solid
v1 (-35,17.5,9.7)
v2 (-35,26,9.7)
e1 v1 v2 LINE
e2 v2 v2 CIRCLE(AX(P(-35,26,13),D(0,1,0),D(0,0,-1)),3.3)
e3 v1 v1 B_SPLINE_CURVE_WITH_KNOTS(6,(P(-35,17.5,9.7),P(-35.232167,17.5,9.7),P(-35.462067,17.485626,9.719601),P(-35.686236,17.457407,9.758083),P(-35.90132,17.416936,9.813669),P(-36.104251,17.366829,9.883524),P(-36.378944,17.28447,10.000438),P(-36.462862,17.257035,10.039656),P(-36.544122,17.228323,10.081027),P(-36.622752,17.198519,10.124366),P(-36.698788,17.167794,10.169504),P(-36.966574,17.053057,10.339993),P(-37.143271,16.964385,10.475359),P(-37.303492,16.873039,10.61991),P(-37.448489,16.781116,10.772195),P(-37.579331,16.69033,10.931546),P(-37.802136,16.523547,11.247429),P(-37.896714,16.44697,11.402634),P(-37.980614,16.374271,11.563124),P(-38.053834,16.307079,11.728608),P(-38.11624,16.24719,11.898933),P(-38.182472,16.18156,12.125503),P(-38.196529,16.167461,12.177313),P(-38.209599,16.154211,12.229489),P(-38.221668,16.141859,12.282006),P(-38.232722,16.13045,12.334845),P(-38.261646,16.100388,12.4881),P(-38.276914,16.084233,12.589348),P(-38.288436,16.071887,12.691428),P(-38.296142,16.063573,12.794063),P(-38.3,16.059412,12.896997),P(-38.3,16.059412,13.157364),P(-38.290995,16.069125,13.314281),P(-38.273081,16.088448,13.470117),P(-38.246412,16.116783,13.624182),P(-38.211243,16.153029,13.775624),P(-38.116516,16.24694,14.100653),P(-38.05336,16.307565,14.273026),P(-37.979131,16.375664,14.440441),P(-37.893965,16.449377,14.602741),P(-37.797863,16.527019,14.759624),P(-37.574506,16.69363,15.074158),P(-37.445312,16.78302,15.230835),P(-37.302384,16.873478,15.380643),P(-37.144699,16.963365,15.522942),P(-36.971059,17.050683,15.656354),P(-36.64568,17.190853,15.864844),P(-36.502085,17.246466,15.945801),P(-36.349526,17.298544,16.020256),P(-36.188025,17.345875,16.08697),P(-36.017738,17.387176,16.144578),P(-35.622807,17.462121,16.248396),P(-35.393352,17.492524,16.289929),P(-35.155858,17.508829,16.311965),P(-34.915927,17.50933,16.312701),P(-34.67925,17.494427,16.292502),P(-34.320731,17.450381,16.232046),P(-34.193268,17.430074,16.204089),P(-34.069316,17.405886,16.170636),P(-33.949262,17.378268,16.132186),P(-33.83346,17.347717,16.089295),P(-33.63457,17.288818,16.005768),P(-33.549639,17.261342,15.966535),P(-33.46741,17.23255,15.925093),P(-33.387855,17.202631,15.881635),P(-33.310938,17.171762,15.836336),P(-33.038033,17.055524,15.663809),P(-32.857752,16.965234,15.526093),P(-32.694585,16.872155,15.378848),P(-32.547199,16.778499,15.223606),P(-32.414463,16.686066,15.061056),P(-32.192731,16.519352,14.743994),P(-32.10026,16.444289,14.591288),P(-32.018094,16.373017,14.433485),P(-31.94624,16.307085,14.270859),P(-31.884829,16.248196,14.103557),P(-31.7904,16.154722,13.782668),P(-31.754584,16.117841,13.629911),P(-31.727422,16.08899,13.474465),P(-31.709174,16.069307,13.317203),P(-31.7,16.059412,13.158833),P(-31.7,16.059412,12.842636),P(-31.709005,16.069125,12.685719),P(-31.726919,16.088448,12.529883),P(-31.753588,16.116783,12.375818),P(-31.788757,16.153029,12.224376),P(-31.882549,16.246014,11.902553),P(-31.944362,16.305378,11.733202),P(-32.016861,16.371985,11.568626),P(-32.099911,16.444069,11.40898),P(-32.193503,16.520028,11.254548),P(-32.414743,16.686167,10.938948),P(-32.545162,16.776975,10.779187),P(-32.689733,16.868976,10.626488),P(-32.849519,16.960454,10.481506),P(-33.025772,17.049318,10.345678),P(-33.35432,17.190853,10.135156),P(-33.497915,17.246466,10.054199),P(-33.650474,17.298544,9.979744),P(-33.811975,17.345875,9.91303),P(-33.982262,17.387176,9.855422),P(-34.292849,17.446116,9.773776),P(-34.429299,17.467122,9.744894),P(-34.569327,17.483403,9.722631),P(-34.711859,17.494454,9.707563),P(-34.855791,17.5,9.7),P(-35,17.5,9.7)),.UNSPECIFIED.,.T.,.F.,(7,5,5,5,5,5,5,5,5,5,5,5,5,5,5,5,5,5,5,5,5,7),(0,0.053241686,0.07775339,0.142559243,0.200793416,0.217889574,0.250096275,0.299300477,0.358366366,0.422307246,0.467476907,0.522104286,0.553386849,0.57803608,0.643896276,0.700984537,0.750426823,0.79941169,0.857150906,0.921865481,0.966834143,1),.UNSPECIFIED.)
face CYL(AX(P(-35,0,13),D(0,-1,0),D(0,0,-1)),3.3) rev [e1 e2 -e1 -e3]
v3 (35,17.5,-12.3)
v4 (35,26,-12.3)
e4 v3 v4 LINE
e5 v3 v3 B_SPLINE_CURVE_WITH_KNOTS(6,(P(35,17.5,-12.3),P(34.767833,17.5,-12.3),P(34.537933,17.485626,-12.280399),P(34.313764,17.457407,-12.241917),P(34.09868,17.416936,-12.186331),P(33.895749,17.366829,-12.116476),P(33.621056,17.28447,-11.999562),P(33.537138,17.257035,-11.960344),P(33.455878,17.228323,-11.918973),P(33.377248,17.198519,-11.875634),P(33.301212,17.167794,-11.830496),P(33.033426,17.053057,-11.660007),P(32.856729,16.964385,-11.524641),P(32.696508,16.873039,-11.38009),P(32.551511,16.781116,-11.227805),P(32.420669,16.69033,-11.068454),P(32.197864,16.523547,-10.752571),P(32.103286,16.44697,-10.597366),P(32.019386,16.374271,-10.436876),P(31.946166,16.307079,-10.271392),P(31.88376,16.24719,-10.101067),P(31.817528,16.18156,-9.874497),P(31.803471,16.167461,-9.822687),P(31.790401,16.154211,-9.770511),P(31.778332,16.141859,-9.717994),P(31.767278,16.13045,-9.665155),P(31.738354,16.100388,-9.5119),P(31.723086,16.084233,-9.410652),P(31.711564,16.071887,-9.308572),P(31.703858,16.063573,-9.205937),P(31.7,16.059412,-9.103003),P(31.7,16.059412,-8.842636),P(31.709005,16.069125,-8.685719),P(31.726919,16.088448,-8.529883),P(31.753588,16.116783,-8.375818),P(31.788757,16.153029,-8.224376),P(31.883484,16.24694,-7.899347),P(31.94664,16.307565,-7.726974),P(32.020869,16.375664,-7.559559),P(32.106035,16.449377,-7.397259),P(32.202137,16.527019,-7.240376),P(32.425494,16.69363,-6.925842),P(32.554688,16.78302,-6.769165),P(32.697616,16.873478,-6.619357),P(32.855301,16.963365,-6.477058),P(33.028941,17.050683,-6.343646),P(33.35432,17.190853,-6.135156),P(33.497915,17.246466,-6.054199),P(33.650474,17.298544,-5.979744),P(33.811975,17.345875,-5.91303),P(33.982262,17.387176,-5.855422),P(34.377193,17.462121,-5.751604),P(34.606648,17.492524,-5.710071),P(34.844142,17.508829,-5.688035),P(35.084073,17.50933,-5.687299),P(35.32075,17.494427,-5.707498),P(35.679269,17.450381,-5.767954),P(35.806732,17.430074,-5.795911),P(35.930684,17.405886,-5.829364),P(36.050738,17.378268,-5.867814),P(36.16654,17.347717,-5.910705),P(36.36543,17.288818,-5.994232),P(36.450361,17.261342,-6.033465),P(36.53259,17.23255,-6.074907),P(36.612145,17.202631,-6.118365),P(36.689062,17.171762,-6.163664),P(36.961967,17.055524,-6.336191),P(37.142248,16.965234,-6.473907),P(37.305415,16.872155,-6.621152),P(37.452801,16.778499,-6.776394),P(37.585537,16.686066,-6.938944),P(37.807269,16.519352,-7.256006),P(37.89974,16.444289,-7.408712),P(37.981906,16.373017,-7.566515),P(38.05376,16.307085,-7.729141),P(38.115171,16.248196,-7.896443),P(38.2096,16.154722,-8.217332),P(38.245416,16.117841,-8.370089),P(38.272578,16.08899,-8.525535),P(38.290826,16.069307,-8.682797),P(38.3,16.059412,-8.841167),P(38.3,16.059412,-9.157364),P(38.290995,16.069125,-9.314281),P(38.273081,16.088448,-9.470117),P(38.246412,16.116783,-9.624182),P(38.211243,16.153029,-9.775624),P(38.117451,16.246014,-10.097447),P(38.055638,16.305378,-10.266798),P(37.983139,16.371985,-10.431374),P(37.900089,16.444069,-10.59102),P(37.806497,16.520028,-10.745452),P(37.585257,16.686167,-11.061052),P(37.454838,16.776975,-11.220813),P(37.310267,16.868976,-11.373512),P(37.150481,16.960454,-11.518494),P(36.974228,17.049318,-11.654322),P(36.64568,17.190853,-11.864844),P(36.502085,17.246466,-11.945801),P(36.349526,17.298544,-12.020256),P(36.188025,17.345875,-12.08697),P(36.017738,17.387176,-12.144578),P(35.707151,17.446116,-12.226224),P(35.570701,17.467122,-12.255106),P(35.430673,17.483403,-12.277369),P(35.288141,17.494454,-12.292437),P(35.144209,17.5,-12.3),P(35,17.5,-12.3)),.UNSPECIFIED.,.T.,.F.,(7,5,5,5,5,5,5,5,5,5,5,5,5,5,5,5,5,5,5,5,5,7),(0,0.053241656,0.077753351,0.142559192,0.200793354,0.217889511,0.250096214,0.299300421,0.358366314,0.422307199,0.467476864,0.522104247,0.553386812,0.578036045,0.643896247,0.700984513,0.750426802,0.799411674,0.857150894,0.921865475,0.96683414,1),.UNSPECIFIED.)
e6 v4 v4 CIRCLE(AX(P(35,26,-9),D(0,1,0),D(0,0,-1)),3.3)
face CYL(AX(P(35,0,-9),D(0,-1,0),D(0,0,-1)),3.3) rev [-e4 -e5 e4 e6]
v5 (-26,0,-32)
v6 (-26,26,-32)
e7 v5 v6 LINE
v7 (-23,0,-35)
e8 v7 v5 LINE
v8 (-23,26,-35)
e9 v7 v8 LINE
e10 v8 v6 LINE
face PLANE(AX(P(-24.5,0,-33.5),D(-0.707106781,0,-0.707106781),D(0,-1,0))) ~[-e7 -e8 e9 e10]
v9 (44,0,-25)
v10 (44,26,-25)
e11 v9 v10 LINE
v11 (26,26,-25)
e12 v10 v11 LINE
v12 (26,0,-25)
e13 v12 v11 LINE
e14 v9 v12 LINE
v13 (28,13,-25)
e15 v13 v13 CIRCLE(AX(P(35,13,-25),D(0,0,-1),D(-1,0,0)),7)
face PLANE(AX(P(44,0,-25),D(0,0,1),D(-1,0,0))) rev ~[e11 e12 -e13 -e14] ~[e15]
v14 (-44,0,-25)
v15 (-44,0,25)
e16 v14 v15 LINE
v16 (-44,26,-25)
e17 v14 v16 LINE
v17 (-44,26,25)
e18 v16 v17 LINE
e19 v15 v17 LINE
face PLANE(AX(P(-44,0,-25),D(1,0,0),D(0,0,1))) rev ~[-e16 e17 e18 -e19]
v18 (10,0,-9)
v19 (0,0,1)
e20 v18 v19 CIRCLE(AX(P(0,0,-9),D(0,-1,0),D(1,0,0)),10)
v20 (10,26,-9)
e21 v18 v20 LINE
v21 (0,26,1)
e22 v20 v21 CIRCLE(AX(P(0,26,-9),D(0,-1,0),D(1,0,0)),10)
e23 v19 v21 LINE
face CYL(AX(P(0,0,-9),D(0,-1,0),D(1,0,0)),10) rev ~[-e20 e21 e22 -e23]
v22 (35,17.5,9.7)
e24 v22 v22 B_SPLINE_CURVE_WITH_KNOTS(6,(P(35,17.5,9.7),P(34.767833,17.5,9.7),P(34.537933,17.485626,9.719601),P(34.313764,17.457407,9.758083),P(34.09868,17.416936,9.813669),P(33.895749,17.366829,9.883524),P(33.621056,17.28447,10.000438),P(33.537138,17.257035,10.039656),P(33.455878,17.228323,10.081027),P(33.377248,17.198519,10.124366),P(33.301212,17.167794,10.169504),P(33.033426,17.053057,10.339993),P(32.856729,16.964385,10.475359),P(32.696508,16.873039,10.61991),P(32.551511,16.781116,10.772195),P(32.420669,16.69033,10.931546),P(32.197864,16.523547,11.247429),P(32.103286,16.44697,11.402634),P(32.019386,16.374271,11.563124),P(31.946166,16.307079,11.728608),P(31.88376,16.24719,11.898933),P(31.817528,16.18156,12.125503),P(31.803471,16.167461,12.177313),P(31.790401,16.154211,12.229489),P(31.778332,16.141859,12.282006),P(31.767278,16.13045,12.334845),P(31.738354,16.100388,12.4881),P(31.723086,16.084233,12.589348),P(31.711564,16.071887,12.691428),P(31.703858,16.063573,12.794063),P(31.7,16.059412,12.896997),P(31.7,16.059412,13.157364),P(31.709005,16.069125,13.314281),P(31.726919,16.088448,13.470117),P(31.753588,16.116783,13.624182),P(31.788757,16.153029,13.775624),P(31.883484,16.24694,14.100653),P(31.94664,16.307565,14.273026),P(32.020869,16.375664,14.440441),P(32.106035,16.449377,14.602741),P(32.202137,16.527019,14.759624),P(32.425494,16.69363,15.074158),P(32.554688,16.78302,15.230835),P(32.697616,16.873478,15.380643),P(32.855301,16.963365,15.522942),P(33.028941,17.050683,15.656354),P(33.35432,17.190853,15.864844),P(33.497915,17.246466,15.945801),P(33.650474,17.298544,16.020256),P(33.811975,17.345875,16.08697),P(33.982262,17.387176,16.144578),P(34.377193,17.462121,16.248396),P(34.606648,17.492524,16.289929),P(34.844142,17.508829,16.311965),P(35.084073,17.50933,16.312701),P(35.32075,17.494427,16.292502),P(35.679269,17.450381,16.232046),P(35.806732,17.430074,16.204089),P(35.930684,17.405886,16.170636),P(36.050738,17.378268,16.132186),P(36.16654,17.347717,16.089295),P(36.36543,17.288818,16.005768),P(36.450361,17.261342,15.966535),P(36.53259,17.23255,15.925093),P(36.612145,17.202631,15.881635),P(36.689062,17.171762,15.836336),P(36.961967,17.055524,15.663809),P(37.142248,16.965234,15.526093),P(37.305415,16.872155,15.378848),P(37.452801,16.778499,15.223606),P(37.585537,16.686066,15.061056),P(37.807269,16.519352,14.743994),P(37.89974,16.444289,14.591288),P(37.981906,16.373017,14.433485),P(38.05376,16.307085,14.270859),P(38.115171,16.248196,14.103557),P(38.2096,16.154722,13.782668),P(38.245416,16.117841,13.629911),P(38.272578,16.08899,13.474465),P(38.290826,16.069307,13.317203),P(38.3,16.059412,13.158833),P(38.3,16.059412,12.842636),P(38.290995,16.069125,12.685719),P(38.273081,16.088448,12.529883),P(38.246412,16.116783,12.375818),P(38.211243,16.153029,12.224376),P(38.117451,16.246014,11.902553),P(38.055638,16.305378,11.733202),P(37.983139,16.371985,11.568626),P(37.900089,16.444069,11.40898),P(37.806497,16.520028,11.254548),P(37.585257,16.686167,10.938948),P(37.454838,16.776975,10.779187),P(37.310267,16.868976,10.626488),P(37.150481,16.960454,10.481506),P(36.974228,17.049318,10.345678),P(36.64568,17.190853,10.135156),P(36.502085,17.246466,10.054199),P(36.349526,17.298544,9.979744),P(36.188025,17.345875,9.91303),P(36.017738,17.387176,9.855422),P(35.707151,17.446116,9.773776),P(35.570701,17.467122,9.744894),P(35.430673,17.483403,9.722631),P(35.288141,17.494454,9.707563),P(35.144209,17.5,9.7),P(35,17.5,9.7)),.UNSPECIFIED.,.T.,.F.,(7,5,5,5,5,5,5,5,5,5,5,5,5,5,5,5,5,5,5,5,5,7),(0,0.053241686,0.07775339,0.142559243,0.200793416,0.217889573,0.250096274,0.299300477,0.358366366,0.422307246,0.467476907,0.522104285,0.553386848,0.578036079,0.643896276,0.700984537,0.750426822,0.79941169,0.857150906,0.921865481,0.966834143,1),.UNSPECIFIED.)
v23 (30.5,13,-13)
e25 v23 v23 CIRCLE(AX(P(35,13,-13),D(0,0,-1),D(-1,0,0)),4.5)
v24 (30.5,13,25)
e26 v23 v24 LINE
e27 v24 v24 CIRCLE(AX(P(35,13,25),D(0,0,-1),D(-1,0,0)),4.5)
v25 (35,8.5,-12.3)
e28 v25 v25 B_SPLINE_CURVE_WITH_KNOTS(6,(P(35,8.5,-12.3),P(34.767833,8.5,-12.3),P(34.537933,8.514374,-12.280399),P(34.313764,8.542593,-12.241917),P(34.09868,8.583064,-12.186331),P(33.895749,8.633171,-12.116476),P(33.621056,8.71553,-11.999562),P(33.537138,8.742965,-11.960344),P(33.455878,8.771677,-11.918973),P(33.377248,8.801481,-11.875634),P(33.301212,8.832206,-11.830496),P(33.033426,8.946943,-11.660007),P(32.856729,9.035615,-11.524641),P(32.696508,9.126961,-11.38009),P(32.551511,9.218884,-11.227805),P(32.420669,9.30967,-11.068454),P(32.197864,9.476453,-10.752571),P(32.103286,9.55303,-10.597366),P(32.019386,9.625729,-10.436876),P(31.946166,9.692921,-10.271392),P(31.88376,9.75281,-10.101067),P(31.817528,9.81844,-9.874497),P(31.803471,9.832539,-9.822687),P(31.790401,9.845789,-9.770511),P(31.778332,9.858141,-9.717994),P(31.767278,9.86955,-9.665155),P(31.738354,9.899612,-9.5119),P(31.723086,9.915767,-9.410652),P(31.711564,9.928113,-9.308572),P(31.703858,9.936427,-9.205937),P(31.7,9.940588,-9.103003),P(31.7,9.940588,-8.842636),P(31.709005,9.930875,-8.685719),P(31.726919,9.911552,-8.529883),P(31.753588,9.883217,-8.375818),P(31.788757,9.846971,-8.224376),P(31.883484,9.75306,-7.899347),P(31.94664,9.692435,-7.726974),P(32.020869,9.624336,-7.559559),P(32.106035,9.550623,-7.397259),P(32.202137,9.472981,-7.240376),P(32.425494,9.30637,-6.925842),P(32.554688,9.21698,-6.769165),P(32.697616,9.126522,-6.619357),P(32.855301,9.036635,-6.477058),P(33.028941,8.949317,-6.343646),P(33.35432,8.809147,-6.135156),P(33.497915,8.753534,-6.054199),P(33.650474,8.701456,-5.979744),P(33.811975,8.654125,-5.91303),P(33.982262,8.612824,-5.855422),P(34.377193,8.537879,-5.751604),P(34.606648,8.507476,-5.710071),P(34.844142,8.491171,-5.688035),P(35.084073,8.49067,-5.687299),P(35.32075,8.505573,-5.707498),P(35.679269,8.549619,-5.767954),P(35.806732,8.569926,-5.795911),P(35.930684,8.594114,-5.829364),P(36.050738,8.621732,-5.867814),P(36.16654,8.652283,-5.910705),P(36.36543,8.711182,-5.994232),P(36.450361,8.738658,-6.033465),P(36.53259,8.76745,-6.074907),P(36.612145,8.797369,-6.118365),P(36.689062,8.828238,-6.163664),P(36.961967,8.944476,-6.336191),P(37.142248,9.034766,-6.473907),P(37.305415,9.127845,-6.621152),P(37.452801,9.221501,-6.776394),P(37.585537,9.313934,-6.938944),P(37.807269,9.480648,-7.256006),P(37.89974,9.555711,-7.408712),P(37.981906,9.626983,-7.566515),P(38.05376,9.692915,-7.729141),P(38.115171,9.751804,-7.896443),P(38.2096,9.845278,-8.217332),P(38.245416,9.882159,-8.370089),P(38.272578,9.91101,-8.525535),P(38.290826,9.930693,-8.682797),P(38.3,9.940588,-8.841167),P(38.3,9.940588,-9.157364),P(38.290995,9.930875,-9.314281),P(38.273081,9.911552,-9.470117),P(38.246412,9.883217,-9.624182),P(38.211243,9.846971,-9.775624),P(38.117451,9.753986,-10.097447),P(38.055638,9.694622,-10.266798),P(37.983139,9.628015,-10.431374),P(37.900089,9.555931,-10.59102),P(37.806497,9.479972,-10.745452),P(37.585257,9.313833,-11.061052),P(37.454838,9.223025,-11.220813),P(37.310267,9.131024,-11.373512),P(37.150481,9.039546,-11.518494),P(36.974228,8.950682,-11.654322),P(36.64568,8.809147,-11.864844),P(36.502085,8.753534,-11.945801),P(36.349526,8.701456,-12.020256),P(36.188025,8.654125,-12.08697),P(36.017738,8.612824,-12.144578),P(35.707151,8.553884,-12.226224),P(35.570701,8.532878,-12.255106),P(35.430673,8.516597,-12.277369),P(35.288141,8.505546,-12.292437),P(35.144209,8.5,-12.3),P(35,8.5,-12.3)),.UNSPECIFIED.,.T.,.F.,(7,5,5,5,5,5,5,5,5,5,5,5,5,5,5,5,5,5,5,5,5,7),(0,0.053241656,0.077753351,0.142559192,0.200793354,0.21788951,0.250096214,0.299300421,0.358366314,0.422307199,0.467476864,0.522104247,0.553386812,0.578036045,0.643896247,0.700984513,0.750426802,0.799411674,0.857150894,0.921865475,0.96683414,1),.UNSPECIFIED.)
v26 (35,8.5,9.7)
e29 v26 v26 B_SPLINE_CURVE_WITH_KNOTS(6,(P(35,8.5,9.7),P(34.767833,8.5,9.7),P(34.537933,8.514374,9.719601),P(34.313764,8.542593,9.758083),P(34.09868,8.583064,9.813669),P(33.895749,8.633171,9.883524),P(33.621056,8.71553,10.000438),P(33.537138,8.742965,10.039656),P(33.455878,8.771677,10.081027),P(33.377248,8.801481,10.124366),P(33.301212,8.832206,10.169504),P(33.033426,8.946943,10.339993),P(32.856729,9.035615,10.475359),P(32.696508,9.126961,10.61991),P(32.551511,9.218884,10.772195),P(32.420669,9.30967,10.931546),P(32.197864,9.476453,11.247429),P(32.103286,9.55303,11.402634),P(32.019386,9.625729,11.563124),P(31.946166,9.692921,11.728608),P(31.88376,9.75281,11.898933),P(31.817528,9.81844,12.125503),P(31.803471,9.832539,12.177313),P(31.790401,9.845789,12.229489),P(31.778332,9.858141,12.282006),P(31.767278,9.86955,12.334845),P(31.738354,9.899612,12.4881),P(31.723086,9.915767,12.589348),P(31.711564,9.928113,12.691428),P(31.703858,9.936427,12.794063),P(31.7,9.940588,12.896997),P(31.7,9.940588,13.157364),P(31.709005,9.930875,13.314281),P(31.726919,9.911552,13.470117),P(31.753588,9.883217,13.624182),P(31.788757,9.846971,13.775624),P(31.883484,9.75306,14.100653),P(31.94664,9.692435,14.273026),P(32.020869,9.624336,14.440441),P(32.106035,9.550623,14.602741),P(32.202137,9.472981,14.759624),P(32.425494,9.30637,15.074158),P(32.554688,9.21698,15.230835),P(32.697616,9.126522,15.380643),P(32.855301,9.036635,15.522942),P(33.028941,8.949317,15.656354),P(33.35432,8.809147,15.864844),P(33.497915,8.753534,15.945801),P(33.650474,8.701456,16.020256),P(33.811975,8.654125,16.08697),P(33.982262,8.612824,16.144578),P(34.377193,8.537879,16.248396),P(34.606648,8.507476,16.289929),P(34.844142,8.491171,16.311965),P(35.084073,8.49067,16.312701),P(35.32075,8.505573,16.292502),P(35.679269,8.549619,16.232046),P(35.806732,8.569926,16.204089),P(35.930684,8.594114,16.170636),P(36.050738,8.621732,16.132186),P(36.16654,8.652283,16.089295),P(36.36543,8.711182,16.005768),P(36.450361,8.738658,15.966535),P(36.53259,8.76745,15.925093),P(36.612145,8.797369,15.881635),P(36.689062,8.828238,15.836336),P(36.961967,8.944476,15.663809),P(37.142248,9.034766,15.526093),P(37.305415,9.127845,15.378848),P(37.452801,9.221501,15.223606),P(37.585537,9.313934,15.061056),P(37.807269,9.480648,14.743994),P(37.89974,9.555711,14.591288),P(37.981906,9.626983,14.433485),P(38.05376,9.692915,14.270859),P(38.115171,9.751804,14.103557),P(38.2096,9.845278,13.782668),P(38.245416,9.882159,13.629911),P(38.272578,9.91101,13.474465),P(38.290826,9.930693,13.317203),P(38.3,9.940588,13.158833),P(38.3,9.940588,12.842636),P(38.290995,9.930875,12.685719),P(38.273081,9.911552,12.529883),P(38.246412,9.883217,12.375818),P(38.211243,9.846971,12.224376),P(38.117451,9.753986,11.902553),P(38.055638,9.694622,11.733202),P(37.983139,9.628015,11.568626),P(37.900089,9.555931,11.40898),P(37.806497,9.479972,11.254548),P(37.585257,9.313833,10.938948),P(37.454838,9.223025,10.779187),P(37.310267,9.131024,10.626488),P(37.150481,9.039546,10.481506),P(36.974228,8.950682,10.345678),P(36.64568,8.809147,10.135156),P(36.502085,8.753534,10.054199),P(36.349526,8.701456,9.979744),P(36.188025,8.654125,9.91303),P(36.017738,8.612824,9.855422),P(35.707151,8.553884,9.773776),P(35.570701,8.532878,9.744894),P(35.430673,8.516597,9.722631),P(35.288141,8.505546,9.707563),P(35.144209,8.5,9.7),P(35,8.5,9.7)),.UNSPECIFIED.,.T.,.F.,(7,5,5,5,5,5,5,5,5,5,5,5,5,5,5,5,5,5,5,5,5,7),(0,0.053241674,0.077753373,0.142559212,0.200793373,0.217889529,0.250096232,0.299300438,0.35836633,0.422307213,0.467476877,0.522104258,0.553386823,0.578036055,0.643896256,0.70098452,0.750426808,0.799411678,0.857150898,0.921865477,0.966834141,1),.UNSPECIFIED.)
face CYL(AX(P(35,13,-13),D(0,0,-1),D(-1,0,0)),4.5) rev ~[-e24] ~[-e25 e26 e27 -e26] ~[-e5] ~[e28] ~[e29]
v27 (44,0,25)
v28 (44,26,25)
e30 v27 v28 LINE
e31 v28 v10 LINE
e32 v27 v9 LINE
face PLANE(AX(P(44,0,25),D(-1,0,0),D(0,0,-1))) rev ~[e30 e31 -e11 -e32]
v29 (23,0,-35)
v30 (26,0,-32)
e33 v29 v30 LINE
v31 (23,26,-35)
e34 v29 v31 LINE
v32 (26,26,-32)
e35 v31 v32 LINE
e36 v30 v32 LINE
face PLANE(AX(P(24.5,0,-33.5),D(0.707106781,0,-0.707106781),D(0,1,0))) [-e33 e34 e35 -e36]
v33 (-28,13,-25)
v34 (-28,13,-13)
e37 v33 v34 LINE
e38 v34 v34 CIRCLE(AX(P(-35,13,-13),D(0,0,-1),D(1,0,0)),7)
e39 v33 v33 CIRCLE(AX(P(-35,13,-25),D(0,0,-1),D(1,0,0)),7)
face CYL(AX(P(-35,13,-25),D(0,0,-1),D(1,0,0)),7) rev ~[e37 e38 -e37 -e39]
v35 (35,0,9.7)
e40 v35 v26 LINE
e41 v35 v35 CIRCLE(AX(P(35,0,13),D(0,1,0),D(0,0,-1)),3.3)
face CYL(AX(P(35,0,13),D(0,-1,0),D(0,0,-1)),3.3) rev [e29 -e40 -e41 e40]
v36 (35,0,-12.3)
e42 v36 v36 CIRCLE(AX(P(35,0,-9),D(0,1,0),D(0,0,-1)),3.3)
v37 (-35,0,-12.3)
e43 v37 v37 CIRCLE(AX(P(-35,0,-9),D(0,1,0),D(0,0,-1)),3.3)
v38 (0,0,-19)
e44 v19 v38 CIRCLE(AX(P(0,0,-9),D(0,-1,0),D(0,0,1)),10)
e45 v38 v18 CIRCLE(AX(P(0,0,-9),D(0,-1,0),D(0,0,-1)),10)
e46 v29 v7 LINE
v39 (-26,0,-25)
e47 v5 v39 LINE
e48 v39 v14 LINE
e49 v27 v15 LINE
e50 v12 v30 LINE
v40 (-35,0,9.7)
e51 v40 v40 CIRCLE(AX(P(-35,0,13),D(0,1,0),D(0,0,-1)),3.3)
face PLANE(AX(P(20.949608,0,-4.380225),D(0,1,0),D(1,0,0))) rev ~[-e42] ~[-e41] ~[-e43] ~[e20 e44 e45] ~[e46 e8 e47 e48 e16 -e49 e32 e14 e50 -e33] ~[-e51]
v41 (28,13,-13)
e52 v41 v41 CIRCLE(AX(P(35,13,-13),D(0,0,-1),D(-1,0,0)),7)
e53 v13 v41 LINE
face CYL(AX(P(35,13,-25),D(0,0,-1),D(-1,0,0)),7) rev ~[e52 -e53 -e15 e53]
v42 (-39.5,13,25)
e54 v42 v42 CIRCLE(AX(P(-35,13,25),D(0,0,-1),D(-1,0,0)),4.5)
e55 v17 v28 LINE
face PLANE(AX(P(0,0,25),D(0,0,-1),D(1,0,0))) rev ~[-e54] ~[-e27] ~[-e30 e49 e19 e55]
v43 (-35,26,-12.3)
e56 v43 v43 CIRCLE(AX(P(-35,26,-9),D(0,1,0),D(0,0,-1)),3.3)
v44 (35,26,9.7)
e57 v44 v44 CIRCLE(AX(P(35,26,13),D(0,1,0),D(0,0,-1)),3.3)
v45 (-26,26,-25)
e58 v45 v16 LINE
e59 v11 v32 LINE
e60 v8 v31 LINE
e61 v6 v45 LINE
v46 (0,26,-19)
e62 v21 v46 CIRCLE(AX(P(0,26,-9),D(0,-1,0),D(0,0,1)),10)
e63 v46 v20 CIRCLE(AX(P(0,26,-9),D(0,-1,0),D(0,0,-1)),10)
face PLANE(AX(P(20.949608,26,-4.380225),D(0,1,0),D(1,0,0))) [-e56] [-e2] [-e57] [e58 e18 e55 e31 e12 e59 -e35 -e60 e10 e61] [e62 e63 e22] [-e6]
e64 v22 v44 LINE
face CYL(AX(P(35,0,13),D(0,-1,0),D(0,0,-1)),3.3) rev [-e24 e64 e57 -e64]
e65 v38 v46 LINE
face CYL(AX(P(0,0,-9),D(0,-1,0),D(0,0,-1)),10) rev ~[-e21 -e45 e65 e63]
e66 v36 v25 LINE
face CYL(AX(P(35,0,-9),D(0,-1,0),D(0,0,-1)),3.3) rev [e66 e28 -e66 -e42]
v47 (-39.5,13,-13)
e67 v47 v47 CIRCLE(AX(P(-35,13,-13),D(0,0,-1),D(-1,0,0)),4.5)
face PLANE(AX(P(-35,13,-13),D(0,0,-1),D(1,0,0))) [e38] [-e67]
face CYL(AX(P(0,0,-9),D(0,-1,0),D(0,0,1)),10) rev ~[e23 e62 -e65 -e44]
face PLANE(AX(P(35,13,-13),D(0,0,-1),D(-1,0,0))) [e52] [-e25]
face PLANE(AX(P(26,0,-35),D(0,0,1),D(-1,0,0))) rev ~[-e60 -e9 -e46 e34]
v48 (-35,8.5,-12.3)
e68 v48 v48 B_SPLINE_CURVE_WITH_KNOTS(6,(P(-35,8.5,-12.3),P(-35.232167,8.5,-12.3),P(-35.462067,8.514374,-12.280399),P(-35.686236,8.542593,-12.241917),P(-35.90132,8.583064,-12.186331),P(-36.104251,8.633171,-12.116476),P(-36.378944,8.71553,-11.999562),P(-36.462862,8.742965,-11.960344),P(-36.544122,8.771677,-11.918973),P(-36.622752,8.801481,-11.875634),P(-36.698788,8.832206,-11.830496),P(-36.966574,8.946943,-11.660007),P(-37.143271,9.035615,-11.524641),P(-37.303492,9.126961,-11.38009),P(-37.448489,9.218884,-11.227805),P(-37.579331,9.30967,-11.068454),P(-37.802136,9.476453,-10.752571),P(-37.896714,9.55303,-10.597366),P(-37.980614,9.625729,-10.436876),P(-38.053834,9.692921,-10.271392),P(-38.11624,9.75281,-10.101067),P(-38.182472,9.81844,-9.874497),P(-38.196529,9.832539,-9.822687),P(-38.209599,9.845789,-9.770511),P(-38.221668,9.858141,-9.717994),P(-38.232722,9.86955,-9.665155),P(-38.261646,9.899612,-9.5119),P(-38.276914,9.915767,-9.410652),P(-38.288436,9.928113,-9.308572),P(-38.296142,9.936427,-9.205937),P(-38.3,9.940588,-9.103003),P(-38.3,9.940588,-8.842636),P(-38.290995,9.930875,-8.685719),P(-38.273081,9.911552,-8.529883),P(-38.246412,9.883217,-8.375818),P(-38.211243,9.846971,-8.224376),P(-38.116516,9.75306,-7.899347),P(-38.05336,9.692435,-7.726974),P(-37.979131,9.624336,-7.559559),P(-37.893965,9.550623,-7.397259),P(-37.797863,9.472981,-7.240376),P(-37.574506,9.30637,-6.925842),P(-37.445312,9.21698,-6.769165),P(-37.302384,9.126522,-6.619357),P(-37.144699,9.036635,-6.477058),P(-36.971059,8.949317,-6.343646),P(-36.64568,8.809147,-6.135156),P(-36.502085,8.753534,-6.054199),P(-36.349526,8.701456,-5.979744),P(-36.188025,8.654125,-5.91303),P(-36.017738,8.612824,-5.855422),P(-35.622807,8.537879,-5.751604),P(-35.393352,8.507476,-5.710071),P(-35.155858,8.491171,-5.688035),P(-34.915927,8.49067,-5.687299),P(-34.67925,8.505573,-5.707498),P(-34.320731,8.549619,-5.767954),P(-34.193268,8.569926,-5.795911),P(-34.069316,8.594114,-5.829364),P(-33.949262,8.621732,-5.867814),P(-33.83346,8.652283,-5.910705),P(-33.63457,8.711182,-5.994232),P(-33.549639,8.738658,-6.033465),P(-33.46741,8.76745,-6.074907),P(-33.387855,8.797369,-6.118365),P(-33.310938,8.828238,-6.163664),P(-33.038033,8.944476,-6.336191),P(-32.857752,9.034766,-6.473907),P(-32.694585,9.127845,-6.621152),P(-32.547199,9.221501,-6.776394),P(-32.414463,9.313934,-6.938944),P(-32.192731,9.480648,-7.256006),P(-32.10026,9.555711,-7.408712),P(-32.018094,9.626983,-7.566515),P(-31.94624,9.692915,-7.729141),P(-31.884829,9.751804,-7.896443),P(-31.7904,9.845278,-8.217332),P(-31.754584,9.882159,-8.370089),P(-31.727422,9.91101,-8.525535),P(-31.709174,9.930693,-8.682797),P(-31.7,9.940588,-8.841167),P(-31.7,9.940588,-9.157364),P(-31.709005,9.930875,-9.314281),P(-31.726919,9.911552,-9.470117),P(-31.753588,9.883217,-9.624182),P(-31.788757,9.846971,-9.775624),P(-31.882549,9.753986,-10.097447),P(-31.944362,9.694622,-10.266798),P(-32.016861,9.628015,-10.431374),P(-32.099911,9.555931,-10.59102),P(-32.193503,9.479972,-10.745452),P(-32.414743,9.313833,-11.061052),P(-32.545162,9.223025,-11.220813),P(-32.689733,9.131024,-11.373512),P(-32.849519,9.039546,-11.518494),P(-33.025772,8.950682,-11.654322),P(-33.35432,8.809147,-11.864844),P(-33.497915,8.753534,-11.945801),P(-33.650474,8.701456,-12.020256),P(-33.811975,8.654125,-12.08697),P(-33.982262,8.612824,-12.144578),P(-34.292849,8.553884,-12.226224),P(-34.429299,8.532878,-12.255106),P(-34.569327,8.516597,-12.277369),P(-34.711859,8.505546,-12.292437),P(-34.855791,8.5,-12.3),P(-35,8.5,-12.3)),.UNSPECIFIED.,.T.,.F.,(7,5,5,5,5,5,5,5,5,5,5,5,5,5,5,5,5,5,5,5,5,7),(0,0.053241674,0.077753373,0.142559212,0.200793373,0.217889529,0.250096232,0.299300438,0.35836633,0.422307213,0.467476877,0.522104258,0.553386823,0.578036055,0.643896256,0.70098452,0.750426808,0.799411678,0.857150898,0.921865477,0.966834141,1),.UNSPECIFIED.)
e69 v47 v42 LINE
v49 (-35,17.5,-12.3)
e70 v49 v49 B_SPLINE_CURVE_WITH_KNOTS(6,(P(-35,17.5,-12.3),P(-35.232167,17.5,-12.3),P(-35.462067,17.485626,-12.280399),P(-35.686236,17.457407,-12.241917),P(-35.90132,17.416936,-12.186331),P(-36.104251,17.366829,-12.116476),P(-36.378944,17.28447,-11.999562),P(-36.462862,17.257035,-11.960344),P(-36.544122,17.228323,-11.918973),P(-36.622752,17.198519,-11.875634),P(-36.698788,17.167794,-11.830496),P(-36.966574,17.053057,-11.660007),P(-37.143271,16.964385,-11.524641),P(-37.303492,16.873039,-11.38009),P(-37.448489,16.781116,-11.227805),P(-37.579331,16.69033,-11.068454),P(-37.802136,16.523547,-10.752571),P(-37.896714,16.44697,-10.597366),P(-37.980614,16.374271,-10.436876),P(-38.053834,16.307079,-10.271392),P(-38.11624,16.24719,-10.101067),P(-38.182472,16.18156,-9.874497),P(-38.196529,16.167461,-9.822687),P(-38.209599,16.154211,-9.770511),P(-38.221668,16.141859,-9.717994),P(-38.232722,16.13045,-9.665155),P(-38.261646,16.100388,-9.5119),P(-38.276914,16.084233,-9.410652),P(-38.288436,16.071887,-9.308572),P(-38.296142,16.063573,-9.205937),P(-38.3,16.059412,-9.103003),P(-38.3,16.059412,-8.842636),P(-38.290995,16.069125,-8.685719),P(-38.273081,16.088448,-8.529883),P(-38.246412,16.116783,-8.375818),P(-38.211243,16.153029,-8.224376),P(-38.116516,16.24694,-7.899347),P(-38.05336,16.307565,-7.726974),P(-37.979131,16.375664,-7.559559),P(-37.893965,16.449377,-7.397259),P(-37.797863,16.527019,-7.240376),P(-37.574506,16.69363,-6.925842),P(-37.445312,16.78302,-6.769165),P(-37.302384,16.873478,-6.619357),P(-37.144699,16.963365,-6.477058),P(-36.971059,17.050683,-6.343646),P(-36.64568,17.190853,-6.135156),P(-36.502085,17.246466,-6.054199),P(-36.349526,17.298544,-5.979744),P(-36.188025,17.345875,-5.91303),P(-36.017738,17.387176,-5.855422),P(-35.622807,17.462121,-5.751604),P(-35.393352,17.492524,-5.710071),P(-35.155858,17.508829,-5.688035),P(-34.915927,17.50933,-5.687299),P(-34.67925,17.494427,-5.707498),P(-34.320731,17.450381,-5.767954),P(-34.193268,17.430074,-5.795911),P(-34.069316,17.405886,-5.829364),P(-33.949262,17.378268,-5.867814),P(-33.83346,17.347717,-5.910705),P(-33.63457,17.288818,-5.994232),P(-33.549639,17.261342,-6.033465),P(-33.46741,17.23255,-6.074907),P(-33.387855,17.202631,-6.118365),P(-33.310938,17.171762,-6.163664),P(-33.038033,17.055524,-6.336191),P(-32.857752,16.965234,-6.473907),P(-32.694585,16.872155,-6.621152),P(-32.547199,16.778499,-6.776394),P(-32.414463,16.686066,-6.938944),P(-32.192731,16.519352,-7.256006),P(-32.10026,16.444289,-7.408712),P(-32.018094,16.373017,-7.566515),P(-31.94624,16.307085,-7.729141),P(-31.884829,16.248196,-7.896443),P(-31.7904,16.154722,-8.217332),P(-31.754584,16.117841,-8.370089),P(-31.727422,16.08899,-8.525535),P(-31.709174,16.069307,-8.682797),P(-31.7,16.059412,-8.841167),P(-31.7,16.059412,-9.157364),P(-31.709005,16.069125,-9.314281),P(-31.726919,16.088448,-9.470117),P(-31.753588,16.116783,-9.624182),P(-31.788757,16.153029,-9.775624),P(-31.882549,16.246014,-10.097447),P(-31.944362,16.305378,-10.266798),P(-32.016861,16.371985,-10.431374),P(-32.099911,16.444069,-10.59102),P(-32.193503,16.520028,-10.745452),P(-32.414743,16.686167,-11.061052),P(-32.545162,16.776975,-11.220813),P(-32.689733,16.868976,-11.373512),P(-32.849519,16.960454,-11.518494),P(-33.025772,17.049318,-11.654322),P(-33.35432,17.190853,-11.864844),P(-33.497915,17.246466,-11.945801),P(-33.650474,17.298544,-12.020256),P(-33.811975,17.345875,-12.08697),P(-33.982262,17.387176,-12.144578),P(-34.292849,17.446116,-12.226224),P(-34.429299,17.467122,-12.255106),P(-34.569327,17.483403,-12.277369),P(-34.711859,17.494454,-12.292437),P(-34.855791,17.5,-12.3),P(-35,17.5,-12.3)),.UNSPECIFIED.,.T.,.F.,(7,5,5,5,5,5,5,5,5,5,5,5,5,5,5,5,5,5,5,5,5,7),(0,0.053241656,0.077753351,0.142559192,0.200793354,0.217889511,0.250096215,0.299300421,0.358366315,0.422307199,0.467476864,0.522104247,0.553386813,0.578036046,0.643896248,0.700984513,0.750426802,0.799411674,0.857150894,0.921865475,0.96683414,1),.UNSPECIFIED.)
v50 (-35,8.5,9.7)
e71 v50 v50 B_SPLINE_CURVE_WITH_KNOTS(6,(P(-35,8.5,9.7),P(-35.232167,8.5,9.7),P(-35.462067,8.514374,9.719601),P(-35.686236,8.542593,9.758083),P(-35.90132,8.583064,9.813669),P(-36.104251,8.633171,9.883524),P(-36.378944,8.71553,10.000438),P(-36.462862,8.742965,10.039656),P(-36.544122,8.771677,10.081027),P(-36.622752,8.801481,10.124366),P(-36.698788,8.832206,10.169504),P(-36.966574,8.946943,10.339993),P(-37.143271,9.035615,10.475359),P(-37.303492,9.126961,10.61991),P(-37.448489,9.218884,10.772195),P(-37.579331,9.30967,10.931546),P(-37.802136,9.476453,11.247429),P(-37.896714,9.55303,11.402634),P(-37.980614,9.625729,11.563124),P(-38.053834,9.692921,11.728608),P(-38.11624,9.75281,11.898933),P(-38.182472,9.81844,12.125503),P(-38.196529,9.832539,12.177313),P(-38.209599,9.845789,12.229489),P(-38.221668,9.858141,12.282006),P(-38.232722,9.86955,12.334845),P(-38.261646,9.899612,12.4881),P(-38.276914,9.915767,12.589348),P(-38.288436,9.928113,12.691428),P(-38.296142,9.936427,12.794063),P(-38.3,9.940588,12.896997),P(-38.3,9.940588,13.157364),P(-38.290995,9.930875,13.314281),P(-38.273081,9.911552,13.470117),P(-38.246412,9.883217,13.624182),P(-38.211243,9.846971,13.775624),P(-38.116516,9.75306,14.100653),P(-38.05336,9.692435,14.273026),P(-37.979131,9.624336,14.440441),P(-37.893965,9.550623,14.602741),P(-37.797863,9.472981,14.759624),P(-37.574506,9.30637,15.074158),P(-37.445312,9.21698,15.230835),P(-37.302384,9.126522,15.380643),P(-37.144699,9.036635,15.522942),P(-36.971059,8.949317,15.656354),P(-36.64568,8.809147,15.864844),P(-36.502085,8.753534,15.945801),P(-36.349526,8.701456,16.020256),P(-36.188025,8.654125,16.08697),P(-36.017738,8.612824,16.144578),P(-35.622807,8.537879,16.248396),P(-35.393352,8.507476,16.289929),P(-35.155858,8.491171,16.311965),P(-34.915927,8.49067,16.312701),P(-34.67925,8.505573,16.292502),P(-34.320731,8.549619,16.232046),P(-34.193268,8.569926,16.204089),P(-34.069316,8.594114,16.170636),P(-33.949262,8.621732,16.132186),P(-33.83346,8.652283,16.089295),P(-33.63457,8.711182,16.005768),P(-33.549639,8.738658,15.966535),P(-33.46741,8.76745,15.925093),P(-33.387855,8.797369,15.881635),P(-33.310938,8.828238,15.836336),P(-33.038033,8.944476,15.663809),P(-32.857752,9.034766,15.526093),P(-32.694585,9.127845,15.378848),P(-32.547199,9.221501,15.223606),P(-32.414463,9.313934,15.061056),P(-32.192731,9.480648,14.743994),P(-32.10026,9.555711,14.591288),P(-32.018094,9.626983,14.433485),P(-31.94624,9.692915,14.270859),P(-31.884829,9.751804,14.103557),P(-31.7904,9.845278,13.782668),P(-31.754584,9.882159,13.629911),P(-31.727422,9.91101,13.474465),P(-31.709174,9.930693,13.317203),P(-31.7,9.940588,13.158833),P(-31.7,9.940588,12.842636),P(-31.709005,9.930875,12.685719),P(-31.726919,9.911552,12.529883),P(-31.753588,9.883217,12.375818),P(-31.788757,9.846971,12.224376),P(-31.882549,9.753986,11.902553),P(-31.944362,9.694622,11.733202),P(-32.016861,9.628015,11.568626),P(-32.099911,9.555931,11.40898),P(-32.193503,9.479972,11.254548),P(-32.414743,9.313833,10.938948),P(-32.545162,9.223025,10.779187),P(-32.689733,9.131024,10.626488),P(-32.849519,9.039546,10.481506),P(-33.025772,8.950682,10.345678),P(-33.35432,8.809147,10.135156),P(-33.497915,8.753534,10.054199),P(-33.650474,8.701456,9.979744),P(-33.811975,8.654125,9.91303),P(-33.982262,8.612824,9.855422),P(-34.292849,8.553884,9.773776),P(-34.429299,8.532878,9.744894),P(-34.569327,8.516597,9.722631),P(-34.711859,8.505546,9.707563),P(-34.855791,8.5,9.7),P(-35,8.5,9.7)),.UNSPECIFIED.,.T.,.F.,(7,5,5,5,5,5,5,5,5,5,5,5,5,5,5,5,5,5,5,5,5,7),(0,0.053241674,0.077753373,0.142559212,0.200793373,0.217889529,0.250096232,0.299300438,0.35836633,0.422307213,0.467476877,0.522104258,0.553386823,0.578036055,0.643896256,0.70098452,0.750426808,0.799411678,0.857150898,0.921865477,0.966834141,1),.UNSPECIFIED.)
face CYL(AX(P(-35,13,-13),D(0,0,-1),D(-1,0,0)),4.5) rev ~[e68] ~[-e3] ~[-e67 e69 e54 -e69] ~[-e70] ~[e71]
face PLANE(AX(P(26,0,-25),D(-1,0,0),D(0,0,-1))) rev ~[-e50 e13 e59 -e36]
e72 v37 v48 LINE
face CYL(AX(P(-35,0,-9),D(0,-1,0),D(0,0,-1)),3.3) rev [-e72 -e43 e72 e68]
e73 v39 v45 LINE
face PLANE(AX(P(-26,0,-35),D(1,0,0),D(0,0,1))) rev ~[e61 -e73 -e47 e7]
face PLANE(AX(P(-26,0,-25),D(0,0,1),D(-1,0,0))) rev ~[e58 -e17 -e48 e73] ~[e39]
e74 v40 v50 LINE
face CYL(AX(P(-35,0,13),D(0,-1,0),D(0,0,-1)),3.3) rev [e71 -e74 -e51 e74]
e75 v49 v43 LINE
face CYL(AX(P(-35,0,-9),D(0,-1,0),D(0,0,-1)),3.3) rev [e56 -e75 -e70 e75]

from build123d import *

# Parameters (mm, degrees)
SKETCH_1_R          = 3.3
EXTRUDE_1_DEPTH     = 26
CHAMFER_1_SIZE      = 3
SKETCH_2_R          = 7
CUT_EXTRUDE_1_DEPTH = 12
SKETCH_3_R          = 4.5
CUT_EXTRUDE_2_DEPTH = 64.686733312


with BuildPart() as part:
    # 草图1 → 凸台-拉伸1 (new body)
    # profile 1 of 2: a face of its own
    with BuildSketch(Plane(origin=(0, 0, 0), x_dir=(1, 0, 0), z_dir=(0, 1, 0))):
        with BuildLine():
            Line((0, 19), (0, 35))
            Line((0, 35), (-26, 35))
            Line((-26, 35), (-26, 25))
            Line((-26, 25), (-44, 25))
            Line((-44, 25), (-44, -25))
            Line((-44, -25), (0, -25))
            Line((0, -25), (0, -1))
            ThreePointArc((0, -1), (-10, 9), (0, 19))
        make_face()
        with Locations(Location((-35, -13, 0), (0, 0, 90))):
            Circle(SKETCH_1_R, mode=Mode.SUBTRACT)
        with Locations(Location((-35, 9, 0), (0, 0, 90))):
            Circle(SKETCH_1_R, mode=Mode.SUBTRACT)
    # profile 2 of 2: a face of its own
    with BuildSketch(Plane(origin=(0, 0, 0), x_dir=(1, 0, 0), z_dir=(0, 1, 0))):
        with BuildLine():
            Line((26, 35), (0, 35))
            Line((0, 35), (0, 19))
            ThreePointArc((0, 19), (7.071067812, 16.071067812), (10, 9))
            ThreePointArc((10, 9), (7.071067812, 1.928932188), (0, -1))
            Line((0, -1), (0, -25))
            Line((0, -25), (44, -25))
            Line((44, -25), (44, 25))
            Line((44, 25), (26, 25))
            Line((26, 25), (26, 35))
        make_face()
        with Locations(Location((35, -13, 0), (0, 0, 90))):
            Circle(SKETCH_1_R, mode=Mode.SUBTRACT)
        with Locations(Location((35, 9, 0), (0, 0, 90))):
            Circle(SKETCH_1_R, mode=Mode.SUBTRACT)
    extrude(amount=EXTRUDE_1_DEPTH)

    # 倒角1
    chamfer_1_edges = [part.edges().sort_by_distance(p)[0] for p in [
        (-26, 13, -35),
        (26, 13, -35),
    ]]
    chamfer(chamfer_1_edges, length=CHAMFER_1_SIZE)

    # 草图2 → 切除-拉伸1 (cut)
    with BuildSketch(Plane(origin=(0, 0, -25), x_dir=(-1, 0, 0), z_dir=(0, 0, -1))):
        with Locations((-35, 13)):
            Circle(SKETCH_2_R)
        with Locations(Location((35, 13, 0), (0, 0, 180))):
            Circle(SKETCH_2_R)
    extrude(amount=-CUT_EXTRUDE_1_DEPTH, mode=Mode.SUBTRACT)

    # 草图3 → 切除-拉伸2 (cut, through all)
    with BuildSketch(Plane(origin=(0, 0, -13), x_dir=(-1, 0, 0), z_dir=(0, 0, -1))):
        with Locations((-35, 13)):
            Circle(SKETCH_3_R)
        with Locations((35, 13)):
            Circle(SKETCH_3_R)
    extrude(amount=-CUT_EXTRUDE_2_DEPTH, mode=Mode.SUBTRACT)


solid = part.part
